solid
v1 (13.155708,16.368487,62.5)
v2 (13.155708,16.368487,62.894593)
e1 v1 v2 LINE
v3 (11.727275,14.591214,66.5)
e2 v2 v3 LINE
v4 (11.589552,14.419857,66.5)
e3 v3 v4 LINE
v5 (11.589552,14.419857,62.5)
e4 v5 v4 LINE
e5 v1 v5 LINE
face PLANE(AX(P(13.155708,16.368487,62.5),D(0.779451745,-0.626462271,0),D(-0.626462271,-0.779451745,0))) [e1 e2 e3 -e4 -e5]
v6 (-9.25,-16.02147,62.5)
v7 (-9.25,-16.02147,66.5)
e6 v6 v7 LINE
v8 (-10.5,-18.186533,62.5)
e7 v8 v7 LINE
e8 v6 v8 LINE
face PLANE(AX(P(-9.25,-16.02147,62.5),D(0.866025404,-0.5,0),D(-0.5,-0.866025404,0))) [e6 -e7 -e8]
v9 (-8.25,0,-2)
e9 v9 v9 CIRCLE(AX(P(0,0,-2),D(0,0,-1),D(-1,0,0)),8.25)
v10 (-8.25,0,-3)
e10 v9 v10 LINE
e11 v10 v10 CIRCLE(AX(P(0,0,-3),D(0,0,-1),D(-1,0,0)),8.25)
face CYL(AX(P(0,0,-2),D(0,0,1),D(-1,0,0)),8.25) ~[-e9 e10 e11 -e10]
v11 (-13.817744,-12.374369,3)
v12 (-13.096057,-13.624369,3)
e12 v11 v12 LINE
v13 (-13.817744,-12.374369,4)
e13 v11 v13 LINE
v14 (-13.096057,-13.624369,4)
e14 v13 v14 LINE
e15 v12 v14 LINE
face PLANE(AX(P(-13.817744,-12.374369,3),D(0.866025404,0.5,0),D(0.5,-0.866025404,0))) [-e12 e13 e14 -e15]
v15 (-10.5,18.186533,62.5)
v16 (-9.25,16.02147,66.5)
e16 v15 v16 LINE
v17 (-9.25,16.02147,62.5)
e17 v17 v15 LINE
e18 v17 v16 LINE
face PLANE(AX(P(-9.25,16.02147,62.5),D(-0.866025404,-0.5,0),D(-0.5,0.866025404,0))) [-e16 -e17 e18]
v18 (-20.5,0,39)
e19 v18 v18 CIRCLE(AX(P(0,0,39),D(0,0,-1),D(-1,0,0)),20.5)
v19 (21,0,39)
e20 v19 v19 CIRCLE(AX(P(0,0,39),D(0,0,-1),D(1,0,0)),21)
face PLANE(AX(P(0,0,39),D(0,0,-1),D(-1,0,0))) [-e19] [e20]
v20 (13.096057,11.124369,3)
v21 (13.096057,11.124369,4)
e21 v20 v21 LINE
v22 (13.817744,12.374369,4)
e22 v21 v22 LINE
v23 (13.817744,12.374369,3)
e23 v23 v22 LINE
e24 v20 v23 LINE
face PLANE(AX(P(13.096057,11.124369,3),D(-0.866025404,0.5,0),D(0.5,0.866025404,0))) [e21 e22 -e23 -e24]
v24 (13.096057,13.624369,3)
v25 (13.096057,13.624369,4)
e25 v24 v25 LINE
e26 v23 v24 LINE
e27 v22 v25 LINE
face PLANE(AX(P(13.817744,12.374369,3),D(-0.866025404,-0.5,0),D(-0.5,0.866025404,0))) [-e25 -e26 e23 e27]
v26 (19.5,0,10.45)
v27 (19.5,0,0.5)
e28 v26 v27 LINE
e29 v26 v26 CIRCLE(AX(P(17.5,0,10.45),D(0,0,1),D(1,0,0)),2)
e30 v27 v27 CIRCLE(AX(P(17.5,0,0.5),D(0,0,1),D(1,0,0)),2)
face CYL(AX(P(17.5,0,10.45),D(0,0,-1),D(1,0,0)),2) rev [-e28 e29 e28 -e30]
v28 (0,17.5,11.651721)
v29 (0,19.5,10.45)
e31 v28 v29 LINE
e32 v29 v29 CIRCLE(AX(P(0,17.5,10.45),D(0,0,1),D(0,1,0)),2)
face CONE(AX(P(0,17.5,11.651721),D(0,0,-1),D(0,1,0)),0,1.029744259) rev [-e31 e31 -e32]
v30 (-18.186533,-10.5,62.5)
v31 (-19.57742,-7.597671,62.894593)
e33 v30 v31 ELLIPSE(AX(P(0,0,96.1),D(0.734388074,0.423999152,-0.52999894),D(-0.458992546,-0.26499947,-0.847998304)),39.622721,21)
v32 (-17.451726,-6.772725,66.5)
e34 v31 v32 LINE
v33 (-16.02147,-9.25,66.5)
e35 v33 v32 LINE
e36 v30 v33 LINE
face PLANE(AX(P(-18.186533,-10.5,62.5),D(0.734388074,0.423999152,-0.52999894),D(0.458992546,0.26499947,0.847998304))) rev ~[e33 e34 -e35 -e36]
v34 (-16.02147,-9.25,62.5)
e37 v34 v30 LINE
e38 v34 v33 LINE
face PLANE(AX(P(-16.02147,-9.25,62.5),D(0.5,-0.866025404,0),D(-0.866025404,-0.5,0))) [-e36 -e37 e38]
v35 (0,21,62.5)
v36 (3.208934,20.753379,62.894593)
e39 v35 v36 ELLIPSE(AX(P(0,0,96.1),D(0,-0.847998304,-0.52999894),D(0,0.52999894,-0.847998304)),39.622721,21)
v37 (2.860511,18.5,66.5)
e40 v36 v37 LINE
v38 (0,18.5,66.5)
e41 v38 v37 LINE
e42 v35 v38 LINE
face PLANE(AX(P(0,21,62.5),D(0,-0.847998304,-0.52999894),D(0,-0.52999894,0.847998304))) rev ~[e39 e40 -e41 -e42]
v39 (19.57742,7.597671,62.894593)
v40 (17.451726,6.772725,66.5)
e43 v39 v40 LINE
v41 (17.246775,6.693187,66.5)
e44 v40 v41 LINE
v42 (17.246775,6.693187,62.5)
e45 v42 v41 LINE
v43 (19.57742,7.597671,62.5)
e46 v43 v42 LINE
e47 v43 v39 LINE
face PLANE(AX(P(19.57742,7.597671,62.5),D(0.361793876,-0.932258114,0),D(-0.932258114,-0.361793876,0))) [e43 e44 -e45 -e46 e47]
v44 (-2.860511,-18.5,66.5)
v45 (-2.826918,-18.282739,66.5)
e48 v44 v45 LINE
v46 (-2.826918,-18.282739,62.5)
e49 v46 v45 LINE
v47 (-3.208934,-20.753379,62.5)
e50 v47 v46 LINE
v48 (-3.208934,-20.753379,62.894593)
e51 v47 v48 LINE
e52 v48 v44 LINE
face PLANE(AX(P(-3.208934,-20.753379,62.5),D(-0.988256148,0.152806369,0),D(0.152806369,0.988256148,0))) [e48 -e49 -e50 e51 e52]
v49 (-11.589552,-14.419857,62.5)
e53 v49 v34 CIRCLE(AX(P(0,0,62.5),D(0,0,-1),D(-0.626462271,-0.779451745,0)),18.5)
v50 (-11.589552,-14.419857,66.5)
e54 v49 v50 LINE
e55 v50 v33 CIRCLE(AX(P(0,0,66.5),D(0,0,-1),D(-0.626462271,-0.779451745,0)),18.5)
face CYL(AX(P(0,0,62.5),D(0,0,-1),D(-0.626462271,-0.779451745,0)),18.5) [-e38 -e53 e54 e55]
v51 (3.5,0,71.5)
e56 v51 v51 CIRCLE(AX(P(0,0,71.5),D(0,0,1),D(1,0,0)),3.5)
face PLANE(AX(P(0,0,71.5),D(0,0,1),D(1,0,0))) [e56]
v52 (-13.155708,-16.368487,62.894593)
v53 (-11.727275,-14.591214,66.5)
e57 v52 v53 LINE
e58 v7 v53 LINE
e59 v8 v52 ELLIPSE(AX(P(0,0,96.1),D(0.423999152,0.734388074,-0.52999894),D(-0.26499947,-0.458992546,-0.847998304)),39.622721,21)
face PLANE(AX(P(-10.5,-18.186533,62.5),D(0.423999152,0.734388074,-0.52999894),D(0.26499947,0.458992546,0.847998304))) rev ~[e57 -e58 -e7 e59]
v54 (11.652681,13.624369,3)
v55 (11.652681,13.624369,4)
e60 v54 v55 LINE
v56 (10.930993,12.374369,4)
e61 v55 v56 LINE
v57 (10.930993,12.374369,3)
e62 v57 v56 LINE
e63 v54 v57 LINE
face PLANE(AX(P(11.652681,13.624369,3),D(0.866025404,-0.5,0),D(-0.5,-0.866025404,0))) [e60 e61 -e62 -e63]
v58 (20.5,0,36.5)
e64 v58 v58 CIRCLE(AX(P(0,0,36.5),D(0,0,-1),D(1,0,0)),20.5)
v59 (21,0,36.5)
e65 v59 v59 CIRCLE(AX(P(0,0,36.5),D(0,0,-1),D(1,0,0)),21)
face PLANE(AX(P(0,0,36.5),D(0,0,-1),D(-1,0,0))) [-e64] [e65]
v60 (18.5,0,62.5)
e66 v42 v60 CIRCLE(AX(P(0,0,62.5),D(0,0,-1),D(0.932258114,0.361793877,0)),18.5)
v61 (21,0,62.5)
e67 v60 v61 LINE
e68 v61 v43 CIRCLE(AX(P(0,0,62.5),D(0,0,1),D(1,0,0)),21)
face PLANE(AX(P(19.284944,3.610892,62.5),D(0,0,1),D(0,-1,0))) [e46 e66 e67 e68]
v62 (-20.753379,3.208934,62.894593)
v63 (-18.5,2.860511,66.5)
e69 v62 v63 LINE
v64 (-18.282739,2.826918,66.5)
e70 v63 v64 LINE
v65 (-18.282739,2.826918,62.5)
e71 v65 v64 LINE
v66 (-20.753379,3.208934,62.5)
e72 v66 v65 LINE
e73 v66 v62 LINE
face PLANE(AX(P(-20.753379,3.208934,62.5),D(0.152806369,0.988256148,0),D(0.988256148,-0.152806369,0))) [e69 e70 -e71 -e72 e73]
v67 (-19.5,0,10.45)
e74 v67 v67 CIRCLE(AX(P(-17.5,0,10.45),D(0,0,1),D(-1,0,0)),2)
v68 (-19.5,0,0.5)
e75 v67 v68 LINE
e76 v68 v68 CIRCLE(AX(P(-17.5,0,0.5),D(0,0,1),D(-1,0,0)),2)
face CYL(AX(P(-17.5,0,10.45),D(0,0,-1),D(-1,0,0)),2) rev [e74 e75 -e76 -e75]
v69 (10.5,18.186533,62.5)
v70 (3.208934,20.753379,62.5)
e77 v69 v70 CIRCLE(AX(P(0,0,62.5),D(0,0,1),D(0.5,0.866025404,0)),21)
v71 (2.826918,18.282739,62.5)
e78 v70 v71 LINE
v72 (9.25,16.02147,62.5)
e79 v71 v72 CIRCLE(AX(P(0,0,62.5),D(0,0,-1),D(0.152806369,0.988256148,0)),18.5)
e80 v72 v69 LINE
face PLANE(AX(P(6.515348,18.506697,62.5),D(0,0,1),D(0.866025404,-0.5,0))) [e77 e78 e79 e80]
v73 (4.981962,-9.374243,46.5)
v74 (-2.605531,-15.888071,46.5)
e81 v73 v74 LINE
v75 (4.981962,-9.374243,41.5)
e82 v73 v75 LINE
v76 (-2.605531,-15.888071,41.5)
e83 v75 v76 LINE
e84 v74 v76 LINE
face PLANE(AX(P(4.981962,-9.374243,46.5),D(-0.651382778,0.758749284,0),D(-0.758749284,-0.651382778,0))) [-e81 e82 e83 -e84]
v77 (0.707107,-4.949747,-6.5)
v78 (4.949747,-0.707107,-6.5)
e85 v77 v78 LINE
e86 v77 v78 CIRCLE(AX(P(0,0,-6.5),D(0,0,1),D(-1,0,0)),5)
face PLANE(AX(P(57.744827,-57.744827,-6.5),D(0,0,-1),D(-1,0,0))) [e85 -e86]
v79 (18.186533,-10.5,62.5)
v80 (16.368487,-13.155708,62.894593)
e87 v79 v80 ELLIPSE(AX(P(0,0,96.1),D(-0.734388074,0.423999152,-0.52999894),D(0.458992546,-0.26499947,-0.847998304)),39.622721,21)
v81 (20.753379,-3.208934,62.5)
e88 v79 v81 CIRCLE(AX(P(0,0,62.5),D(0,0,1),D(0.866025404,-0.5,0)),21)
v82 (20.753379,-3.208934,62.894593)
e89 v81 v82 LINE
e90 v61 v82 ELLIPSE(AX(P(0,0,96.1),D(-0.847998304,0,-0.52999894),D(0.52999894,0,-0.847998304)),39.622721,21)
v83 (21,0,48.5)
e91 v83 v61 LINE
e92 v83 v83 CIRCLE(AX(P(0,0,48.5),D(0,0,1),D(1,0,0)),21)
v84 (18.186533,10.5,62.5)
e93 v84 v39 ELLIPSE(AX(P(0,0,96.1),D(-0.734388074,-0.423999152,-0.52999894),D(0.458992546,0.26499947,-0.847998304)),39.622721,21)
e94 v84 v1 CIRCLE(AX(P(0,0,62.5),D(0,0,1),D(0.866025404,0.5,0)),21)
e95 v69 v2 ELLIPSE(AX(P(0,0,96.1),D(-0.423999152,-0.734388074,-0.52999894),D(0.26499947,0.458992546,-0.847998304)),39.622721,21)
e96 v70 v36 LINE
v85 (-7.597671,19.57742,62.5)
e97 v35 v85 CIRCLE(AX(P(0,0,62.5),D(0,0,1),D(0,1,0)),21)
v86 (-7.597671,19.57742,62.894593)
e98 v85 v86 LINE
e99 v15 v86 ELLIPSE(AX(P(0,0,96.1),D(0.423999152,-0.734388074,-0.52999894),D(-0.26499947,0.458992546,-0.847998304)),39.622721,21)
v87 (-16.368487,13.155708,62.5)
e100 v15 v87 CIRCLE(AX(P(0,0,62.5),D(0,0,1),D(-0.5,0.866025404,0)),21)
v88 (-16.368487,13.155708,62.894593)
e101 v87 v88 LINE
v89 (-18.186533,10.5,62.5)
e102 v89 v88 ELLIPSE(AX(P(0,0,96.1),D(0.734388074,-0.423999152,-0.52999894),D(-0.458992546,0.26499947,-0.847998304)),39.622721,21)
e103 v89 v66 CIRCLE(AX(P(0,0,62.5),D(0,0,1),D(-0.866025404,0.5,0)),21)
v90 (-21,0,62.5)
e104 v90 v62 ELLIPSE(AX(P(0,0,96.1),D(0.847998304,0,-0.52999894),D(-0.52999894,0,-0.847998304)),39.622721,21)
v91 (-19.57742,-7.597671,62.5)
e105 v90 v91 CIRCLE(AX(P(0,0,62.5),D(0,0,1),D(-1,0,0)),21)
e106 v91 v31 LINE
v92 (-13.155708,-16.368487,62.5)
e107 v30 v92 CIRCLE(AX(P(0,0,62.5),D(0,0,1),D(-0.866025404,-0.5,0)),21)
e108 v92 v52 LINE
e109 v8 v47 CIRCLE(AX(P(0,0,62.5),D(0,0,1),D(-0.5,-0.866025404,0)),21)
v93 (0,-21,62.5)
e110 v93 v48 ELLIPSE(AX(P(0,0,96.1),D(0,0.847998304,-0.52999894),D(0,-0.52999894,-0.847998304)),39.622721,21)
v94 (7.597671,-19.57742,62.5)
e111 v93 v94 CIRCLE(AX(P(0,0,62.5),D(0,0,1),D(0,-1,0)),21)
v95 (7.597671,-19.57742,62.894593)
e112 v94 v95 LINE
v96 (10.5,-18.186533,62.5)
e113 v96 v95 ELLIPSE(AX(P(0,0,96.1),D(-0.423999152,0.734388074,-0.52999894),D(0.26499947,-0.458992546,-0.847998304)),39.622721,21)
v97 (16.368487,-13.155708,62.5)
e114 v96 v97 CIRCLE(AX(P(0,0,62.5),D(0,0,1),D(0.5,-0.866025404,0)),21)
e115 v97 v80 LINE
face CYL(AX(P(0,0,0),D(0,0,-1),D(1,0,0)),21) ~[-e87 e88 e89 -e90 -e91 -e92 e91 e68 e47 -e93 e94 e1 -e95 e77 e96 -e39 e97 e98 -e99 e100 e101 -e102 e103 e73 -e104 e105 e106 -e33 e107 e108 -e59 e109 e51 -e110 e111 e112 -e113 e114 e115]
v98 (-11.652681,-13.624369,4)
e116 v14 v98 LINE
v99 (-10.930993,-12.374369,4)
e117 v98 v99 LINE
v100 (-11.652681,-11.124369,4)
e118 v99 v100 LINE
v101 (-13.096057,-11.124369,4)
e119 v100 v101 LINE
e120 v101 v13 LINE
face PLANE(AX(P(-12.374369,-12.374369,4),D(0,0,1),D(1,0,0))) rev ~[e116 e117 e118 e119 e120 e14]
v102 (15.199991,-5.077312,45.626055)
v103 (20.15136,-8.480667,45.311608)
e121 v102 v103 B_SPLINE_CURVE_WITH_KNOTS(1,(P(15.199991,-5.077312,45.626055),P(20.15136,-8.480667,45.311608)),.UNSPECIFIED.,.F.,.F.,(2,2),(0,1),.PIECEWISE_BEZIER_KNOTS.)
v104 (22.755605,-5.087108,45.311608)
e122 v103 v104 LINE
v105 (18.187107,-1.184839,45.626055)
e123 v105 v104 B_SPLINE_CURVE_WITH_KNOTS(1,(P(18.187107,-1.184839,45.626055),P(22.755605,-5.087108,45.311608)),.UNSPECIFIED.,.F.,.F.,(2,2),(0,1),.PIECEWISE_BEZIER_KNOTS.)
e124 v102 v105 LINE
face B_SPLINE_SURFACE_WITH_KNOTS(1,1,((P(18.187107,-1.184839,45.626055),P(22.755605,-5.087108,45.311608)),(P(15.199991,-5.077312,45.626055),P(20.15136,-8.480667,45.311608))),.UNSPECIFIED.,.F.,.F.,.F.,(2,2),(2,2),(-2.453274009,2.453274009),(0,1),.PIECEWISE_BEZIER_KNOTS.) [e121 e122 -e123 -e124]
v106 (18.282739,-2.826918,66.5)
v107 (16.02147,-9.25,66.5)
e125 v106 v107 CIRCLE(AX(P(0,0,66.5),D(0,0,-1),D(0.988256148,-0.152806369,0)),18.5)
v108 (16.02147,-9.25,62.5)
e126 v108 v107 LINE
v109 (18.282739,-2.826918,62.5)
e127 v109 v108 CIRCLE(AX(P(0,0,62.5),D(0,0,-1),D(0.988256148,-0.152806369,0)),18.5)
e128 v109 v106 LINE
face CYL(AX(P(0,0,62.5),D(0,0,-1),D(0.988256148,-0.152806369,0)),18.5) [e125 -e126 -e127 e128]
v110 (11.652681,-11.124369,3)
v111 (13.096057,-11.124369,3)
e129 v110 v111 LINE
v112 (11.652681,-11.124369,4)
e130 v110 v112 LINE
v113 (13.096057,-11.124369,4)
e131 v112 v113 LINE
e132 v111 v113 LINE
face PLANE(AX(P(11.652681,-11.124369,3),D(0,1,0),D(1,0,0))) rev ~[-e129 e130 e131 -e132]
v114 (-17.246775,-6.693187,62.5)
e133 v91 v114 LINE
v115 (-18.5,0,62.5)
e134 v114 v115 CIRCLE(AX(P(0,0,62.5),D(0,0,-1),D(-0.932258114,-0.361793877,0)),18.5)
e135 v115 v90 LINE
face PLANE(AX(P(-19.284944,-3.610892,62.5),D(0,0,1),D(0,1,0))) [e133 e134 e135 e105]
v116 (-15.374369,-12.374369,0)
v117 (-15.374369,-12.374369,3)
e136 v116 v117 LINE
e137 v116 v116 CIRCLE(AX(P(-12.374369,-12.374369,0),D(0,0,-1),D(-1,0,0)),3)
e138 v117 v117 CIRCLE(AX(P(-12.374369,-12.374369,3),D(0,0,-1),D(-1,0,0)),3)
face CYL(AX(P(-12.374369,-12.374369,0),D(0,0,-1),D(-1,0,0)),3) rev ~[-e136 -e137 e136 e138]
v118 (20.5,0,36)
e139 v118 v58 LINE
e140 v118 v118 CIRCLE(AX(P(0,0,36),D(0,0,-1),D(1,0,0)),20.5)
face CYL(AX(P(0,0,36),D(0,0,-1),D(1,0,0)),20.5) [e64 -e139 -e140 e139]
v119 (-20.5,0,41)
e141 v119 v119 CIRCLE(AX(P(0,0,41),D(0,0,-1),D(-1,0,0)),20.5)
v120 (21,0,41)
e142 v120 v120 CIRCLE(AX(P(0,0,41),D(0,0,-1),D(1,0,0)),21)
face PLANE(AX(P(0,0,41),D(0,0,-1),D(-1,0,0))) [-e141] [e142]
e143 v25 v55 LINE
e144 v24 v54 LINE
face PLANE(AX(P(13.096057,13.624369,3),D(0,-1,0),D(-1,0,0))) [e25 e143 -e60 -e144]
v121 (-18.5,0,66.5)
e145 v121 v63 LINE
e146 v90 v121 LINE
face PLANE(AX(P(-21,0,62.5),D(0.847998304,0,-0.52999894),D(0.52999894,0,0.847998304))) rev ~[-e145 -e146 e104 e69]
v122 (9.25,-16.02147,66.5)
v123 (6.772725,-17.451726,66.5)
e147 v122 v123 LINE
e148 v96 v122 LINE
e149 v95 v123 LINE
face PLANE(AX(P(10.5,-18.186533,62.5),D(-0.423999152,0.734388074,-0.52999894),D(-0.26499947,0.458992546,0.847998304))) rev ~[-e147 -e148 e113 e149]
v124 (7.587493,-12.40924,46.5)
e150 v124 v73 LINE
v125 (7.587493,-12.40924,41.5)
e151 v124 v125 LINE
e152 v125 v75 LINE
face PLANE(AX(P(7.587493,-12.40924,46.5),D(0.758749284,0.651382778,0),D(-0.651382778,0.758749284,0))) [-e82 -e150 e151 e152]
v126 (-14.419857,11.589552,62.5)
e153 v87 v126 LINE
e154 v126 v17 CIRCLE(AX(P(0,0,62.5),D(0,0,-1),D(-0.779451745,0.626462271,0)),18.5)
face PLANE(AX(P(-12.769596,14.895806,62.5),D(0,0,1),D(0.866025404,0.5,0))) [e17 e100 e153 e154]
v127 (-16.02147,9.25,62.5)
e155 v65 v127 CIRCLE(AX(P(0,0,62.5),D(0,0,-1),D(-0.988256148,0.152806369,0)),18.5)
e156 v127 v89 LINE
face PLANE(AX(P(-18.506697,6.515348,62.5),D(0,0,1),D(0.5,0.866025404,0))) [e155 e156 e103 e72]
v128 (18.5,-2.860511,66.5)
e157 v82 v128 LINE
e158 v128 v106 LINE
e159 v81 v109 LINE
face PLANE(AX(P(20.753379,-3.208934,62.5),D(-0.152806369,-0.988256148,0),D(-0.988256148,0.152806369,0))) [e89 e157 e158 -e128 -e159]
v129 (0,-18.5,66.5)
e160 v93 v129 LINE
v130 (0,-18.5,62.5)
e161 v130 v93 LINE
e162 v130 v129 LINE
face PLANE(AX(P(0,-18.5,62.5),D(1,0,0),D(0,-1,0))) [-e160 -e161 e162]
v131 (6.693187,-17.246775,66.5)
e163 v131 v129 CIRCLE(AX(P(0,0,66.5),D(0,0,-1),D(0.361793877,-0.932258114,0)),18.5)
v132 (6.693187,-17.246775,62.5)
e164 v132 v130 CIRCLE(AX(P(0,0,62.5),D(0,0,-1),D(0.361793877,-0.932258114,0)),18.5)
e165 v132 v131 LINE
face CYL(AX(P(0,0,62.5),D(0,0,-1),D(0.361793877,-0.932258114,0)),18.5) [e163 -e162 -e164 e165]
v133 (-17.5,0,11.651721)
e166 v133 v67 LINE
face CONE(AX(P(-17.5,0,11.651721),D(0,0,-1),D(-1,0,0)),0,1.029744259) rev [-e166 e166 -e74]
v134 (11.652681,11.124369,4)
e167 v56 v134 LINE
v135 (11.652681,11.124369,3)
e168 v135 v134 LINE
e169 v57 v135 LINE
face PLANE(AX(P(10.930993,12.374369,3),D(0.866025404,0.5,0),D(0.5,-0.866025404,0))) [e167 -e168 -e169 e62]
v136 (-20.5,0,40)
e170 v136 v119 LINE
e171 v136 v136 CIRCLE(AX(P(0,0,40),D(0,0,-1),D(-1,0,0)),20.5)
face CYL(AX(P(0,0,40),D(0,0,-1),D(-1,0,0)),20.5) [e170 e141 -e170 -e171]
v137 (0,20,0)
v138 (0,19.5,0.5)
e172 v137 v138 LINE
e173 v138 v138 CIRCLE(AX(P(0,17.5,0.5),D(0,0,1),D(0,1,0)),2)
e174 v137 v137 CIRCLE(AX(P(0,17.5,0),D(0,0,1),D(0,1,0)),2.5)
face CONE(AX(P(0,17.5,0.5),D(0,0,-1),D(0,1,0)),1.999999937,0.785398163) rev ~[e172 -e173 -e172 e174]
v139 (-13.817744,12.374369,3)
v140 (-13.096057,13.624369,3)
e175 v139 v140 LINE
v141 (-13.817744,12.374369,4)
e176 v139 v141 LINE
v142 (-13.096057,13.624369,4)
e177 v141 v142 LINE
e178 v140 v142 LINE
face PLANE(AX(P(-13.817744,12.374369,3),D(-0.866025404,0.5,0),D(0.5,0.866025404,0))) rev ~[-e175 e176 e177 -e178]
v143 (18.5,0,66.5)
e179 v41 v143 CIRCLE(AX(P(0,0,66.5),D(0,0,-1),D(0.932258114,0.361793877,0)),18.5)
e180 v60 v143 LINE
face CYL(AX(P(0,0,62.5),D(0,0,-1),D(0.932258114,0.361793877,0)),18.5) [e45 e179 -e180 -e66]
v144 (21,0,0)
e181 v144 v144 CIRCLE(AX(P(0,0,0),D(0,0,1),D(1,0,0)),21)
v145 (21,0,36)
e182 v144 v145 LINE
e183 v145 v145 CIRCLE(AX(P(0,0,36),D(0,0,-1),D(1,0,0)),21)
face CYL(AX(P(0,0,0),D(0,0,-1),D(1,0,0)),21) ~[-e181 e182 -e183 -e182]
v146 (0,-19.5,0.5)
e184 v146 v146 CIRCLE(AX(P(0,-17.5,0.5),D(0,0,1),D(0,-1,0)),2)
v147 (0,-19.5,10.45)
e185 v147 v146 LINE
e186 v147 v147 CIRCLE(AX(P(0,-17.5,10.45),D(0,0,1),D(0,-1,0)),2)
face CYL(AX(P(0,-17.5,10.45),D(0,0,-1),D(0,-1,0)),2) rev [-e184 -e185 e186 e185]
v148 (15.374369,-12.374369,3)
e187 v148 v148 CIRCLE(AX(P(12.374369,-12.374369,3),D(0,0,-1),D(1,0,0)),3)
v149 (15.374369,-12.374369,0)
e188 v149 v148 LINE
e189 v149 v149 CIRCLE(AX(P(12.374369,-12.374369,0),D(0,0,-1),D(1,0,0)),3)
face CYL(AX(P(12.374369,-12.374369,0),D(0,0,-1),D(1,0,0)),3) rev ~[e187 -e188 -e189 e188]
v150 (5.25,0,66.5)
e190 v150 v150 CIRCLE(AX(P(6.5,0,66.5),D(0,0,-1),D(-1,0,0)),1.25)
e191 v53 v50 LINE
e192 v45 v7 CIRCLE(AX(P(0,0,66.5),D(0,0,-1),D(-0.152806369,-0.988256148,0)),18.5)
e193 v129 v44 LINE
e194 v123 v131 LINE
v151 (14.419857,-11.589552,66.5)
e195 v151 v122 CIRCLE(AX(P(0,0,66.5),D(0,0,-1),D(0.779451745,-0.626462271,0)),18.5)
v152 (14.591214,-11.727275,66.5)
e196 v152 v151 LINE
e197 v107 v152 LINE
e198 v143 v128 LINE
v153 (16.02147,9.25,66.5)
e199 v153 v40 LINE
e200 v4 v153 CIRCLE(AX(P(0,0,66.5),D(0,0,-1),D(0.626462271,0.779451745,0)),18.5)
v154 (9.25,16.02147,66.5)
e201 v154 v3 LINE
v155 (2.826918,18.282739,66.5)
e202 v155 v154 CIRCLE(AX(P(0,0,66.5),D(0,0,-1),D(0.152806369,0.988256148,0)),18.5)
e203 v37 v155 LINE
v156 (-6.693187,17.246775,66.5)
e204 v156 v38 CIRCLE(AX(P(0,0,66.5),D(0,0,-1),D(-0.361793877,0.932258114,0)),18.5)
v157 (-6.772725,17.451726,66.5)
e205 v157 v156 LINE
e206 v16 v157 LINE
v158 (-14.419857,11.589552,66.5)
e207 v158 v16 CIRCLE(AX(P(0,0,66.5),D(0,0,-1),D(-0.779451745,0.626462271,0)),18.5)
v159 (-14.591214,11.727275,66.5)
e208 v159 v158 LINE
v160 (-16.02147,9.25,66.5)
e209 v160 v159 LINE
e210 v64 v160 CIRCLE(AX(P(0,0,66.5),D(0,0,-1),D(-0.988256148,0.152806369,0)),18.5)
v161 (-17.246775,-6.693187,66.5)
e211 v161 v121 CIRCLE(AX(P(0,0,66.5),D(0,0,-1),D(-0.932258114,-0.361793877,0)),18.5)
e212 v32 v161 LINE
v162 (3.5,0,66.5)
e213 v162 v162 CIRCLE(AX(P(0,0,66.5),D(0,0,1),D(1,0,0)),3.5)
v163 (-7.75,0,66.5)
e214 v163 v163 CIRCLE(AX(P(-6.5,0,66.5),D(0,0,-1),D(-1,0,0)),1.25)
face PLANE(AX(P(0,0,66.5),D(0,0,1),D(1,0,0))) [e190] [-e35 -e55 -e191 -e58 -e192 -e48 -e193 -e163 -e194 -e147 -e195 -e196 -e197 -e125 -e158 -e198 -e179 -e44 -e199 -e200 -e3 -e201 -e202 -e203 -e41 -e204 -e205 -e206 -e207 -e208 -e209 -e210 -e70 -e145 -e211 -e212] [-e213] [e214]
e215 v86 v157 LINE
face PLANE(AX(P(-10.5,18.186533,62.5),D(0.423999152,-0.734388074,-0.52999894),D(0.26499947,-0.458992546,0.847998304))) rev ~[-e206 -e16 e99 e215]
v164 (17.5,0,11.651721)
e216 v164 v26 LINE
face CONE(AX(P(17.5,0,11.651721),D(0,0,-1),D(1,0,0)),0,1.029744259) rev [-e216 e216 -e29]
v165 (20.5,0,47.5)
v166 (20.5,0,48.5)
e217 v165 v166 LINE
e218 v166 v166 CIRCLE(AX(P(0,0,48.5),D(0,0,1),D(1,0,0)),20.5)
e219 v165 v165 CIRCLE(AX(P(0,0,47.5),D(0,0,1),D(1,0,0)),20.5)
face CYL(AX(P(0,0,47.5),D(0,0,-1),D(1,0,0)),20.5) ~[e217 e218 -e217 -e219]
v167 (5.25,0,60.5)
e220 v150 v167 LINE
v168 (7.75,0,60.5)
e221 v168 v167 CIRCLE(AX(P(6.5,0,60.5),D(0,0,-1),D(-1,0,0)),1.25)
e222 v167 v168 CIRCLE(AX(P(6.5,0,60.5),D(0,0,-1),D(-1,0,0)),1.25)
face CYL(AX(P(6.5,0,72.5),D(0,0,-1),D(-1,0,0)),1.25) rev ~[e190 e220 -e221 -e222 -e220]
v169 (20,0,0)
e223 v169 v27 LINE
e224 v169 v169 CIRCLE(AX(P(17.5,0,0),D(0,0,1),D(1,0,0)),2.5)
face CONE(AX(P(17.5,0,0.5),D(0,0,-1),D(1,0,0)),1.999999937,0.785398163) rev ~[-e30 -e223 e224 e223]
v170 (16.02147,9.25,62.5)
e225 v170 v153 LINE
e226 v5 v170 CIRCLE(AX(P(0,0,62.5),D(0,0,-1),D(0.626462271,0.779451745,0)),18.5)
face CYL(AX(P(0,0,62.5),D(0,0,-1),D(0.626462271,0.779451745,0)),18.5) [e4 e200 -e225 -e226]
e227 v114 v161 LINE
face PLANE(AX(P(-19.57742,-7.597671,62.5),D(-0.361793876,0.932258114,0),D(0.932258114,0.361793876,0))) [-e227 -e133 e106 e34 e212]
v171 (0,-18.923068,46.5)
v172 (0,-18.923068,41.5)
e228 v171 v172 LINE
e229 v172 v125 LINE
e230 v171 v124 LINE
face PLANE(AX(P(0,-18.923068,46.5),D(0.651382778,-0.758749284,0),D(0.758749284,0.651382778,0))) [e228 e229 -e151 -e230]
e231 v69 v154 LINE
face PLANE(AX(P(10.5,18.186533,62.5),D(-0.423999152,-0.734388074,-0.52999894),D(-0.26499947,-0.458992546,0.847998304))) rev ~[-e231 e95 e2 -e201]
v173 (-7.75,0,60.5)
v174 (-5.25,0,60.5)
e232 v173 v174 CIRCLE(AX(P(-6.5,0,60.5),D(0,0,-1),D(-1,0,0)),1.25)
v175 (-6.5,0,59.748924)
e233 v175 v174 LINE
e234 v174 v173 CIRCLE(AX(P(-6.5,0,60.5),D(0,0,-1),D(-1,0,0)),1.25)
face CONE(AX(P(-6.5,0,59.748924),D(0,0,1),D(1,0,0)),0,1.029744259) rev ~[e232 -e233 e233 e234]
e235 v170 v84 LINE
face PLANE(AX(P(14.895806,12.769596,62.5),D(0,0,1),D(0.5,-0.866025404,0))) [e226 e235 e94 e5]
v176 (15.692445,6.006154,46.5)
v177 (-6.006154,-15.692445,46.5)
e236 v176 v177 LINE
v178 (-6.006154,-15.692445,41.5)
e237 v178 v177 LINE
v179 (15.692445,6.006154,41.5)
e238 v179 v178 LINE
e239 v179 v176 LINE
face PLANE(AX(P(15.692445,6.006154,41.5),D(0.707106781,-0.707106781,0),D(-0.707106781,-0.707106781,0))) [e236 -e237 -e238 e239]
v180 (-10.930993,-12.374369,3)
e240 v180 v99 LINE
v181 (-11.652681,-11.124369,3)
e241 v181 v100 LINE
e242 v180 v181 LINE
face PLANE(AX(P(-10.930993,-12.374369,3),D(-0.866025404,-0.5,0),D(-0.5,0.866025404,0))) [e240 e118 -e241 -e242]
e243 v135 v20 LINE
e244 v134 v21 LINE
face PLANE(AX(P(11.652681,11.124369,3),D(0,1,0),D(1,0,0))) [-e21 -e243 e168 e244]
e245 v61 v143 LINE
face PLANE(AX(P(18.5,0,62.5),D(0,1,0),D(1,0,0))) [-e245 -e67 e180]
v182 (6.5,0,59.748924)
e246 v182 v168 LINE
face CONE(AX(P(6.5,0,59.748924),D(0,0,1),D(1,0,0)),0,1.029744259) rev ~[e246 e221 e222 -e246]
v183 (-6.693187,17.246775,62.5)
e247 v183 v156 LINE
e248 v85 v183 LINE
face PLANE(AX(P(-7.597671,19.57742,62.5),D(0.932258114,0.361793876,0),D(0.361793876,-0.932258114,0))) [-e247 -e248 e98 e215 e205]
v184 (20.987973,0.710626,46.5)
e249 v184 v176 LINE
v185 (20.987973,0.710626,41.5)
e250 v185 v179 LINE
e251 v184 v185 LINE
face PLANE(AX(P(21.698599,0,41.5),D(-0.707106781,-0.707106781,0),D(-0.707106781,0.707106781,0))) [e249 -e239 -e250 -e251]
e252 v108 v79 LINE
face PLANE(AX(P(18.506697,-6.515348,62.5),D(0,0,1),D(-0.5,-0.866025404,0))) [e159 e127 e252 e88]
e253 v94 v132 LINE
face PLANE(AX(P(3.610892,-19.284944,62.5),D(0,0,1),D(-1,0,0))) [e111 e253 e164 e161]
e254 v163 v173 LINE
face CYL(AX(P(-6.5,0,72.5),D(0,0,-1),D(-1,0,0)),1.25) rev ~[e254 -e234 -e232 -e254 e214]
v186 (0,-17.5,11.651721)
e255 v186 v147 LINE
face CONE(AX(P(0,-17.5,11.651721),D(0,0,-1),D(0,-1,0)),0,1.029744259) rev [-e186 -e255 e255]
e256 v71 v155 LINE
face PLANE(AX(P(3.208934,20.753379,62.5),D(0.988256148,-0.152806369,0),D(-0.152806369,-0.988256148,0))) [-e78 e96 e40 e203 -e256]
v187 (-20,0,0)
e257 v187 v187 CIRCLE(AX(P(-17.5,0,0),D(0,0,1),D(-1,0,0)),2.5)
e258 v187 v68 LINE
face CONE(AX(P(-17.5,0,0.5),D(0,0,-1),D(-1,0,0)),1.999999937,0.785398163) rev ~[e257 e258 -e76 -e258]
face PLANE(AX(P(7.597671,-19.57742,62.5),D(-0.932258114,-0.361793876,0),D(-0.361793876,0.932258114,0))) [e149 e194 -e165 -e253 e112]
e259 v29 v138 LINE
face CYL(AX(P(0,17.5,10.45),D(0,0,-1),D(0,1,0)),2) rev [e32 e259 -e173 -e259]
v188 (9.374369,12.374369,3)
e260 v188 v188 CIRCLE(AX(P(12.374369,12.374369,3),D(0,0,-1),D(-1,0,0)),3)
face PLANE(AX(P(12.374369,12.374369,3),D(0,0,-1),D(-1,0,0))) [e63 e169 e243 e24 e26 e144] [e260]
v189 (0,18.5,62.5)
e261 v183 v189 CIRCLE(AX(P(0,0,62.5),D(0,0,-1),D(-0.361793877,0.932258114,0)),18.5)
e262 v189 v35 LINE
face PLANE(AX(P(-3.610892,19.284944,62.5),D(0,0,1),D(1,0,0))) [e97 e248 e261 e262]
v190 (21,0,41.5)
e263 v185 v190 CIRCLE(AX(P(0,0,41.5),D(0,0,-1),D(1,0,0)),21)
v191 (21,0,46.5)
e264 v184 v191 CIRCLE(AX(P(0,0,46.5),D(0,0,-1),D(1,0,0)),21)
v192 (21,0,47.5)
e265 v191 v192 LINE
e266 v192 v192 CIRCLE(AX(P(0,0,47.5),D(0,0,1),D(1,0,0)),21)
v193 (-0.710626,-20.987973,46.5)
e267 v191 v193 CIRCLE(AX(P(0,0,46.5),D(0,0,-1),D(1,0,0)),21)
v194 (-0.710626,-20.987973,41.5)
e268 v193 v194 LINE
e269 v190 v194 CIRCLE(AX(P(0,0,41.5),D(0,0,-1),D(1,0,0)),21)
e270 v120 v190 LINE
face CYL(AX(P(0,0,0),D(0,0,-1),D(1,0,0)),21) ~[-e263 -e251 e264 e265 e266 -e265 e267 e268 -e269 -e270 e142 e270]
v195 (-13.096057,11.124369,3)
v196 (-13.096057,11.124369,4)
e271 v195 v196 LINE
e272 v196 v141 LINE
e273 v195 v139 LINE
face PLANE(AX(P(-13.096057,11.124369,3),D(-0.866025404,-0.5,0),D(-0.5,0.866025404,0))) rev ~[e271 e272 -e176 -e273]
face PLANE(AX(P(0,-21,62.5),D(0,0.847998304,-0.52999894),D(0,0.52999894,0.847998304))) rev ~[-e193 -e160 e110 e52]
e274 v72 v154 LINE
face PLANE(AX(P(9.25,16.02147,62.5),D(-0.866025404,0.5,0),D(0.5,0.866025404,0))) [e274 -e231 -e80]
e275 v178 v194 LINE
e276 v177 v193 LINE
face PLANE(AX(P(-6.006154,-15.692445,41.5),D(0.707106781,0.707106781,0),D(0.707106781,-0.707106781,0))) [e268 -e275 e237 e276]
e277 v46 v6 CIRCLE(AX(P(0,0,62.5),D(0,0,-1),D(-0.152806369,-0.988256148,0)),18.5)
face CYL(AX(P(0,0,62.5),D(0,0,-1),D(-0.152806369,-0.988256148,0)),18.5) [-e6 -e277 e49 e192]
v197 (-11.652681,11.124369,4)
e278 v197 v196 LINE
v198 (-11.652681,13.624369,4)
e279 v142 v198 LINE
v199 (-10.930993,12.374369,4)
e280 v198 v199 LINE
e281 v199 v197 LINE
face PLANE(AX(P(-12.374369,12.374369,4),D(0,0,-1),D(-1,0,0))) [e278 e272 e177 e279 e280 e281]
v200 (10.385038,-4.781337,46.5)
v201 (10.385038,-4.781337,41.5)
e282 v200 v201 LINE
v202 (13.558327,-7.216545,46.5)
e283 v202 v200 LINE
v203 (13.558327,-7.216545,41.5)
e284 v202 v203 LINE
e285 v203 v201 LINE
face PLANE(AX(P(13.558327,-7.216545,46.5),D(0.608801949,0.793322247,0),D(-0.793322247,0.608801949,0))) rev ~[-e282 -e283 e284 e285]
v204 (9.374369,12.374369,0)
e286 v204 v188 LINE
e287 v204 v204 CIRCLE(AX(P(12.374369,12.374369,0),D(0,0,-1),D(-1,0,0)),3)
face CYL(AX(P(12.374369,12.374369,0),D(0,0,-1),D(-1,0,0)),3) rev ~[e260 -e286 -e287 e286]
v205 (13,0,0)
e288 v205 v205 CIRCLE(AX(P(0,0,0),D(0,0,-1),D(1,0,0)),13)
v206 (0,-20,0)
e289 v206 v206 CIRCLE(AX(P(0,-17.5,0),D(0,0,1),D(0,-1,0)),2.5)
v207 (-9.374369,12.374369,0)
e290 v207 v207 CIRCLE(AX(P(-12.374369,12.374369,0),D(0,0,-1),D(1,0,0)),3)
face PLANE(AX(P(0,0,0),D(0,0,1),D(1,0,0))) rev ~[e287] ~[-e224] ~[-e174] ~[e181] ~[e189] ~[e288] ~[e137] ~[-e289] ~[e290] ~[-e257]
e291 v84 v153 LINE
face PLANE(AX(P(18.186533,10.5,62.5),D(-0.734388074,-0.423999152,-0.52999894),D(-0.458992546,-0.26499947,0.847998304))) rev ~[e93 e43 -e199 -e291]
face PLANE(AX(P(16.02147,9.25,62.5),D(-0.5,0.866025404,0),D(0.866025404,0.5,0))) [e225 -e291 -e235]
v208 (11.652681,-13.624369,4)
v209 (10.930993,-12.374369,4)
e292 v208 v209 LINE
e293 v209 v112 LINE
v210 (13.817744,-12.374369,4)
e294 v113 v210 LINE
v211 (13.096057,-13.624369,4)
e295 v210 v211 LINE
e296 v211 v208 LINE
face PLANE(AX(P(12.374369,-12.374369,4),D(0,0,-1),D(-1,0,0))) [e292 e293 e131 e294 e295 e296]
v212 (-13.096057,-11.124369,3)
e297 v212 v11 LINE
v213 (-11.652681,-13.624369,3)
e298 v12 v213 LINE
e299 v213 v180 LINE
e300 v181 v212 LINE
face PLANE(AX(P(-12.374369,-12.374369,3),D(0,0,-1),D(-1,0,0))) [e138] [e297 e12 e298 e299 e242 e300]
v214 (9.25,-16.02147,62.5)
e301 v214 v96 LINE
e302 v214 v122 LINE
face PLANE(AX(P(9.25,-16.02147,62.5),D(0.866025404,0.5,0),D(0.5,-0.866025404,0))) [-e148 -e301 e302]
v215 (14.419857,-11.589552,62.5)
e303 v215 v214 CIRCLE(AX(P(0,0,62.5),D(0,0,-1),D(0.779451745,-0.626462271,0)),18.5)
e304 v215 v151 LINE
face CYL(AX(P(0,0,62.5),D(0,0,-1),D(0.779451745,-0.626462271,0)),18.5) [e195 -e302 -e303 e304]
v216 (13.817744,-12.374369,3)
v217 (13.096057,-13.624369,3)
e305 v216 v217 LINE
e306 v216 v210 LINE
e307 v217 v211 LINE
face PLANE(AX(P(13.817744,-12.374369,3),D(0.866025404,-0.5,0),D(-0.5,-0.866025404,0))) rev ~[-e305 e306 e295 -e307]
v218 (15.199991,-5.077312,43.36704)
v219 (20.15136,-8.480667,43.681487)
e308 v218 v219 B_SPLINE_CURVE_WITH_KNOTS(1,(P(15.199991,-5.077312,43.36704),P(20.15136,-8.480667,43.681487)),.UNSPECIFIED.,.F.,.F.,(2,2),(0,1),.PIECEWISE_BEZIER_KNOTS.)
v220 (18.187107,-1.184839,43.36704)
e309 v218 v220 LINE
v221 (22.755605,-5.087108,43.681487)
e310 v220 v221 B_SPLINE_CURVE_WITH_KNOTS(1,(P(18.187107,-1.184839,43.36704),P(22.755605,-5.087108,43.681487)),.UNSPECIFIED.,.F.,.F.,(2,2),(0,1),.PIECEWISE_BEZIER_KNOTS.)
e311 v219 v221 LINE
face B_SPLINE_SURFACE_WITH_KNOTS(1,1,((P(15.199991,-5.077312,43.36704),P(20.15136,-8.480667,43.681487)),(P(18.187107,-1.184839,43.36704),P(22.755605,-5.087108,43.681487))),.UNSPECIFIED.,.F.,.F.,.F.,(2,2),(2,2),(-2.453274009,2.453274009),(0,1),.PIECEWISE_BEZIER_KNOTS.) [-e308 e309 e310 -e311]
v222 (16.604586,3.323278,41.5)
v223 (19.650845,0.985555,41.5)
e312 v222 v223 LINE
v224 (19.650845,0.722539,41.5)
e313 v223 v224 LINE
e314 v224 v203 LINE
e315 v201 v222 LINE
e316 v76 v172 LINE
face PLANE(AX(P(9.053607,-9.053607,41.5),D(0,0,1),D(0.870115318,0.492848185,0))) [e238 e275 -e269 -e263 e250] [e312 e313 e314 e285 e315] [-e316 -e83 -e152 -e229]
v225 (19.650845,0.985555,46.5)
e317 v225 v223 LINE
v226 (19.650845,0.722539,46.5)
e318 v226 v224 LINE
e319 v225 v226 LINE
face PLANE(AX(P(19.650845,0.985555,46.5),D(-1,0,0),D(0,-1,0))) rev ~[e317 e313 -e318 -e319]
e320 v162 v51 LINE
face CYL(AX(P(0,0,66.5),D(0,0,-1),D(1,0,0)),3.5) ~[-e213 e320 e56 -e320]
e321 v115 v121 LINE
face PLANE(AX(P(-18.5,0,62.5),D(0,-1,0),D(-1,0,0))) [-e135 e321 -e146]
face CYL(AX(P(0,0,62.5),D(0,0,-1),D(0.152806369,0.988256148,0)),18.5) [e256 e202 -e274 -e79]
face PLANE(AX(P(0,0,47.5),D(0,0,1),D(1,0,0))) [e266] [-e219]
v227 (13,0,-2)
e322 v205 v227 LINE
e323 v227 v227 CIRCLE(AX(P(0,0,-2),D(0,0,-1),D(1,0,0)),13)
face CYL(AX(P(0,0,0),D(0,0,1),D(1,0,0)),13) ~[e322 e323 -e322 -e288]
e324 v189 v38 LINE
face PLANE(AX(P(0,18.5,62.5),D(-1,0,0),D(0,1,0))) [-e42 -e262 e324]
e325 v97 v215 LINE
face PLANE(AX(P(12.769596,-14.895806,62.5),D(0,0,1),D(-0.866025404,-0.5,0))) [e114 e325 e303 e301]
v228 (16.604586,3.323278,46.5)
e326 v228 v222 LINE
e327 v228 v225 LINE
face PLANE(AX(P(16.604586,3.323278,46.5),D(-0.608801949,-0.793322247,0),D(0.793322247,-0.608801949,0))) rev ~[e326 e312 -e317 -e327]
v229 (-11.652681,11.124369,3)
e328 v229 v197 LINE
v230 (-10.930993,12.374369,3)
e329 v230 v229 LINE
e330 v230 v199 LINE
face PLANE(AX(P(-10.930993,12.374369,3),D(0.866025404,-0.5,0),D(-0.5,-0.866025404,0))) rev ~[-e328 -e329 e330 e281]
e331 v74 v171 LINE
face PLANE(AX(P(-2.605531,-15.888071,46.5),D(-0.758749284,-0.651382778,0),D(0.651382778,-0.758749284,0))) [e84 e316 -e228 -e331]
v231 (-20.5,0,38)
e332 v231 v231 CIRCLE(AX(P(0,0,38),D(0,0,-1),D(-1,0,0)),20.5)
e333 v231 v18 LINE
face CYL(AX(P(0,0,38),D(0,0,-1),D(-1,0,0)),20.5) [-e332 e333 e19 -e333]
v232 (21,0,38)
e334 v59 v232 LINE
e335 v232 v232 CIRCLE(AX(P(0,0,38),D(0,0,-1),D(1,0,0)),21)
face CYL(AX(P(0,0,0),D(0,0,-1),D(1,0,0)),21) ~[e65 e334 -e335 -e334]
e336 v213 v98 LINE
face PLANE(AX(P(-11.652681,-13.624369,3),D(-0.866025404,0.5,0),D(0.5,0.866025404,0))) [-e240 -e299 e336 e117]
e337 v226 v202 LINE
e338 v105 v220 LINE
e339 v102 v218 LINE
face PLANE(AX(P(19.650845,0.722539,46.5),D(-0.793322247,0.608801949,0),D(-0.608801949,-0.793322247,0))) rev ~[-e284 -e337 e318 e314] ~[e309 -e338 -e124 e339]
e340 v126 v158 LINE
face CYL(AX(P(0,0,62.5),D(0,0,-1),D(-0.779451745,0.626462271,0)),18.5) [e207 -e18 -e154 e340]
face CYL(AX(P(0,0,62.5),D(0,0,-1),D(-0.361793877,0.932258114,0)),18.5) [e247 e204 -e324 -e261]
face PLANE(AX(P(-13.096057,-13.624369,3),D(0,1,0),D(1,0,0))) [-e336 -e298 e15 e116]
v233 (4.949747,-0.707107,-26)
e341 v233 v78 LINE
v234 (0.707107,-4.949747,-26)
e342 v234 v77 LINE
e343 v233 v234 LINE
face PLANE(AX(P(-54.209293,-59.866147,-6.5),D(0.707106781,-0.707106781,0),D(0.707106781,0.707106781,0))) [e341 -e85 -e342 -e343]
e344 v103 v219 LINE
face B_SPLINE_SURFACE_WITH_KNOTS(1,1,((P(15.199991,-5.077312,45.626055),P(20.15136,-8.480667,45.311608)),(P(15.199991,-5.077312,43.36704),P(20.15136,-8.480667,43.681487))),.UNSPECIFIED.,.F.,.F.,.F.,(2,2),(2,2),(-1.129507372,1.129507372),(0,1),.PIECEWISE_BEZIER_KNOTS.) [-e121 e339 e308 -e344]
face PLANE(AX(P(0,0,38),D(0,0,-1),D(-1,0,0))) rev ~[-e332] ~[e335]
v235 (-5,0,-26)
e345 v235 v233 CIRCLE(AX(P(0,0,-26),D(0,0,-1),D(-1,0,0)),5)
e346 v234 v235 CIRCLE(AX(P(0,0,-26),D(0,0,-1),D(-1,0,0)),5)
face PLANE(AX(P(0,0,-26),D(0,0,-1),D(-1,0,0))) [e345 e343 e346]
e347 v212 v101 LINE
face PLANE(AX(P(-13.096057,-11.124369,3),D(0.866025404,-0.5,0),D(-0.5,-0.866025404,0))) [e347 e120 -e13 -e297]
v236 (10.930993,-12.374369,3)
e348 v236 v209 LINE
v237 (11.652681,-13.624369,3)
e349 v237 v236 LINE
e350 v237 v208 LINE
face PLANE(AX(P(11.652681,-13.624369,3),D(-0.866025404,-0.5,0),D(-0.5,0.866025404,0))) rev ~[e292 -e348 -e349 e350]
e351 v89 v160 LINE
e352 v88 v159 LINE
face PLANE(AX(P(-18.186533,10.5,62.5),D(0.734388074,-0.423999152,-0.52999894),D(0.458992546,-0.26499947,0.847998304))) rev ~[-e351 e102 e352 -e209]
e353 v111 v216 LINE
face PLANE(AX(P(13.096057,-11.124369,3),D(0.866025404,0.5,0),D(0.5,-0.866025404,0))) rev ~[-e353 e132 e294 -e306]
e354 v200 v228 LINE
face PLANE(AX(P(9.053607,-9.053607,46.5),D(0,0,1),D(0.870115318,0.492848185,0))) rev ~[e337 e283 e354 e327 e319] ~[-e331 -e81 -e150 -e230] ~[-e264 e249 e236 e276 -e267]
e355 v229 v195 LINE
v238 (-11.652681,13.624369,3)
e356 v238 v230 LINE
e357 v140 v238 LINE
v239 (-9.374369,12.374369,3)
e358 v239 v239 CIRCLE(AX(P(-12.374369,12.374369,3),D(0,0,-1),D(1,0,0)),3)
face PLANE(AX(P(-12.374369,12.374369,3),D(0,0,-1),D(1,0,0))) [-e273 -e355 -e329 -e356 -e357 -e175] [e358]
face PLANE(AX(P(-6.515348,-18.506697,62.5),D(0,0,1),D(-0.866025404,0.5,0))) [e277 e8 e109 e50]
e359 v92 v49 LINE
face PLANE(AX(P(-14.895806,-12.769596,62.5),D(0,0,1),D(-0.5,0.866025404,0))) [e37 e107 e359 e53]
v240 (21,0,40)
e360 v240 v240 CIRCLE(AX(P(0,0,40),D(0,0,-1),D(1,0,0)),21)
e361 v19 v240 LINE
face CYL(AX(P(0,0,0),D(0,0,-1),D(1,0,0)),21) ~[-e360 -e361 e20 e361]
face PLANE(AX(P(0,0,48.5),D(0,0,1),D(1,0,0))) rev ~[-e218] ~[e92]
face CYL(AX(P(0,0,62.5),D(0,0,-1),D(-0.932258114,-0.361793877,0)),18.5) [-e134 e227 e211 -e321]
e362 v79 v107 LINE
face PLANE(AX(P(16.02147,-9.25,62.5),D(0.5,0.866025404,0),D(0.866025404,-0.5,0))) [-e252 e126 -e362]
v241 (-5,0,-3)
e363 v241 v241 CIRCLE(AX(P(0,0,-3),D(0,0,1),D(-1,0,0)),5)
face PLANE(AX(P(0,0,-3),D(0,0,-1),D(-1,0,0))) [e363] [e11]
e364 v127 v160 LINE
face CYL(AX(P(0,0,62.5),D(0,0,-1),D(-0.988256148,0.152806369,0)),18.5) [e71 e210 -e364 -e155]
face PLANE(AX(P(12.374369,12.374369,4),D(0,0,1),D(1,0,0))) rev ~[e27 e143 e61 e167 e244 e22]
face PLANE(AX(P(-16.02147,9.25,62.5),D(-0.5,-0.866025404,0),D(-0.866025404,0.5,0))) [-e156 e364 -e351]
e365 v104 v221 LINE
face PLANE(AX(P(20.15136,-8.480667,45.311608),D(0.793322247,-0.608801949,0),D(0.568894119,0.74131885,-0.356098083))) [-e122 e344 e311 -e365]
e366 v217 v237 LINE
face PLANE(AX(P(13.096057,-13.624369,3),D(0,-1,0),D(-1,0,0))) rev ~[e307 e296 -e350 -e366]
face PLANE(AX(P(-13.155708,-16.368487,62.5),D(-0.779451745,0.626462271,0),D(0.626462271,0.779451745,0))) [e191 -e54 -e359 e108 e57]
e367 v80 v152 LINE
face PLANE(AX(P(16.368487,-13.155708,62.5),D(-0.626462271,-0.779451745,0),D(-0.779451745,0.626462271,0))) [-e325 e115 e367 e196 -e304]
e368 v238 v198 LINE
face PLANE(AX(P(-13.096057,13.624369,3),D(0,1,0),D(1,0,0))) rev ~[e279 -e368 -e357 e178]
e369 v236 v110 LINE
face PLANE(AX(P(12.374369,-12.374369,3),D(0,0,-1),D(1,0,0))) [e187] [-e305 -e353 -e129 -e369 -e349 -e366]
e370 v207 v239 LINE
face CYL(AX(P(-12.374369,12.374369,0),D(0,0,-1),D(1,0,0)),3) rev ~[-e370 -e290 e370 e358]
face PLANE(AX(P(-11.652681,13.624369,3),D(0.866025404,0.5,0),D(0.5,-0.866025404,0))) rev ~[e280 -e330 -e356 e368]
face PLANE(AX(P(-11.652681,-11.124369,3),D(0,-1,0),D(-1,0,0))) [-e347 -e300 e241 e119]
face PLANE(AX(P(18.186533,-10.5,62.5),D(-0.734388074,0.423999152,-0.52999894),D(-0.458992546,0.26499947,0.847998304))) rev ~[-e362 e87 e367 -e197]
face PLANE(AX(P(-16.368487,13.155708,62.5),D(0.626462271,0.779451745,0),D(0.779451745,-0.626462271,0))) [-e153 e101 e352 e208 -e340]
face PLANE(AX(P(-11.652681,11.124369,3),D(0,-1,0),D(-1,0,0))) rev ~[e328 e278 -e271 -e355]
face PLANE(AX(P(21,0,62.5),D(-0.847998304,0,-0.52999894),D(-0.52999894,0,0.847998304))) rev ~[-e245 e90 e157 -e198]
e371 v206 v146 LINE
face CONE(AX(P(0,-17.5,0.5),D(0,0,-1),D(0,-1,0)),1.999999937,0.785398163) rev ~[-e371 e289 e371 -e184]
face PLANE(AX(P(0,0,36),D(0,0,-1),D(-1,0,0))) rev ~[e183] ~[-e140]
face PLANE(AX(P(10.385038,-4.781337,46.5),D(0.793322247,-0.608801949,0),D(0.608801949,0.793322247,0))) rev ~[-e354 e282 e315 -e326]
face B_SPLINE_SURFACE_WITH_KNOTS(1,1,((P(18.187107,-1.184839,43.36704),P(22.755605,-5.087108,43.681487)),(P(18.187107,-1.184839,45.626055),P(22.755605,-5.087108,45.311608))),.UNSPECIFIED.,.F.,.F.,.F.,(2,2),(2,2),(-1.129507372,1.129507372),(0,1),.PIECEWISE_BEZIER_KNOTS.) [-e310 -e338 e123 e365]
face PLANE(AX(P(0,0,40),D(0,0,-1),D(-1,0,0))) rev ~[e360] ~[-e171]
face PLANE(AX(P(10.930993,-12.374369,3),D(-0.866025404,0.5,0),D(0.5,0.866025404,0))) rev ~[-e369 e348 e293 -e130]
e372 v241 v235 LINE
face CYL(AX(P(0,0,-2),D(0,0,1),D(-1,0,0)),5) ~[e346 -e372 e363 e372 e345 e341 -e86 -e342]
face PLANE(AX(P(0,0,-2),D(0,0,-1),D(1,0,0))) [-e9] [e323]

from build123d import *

# Parameters (mm, degrees)
SKETCH_1_R                           = 21
EXTRUDE_1_DEPTH                      = 66.5
SKETCH_2_R                           = 13
EXTRUDE_2_DEPTH                      = 2
SKETCH_3_R                           = 5
EXTRUDE_3_DEPTH                      = 24
CUT_EXTRUDE_1_DEPTH                  = 98.1506562
CUT_EXTRUDE_1_DEPTH_BACK             = 19.5
CHAMFER_1_SIZE                       = 0.5
PATTERN_CIRCULAR_1_COUNT             = 4
CHAMFER_1_OF_PATTERN_CIRCULAR_1_SIZE = 0.5
SKETCH_30_R                          = 3.5
EXTRUDE_4_DEPTH                      = 5
SKETCH_31_R                          = 8.25
EXTRUDE_5_DEPTH                      = 1
CUT_EXTRUDE_4_DEPTH                  = 5
CUT_EXTRUDE_START                    = -1
SKETCH_38_R                          = 21
SKETCH_38_R_2                        = 20.5
CUT_EXTRUDE_8_DEPTH                  = 1
EXTRUDE_8_DEPTH                      = 5
EXTRUDE_9_DEPTH                      = 5
SKETCH_37_W                          = 2.259014744
SKETCH_37_H                          = 4.906548019
EXTRUDE_10_DEPTH                     = 6
EXTRUDE_10_TAPER                     = 3
SKETCH_39_R                          = 21
SKETCH_39_R_2                        = 20.5
CUT_EXTRUDE_9_DEPTH                  = 0.5
SKETCH_41_R                          = 21
SKETCH_41_R_2                        = 20.5
CUT_EXTRUDE_10_DEPTH                 = 1
SKETCH_42_R                          = 21
SKETCH_42_R_2                        = 20.5
CUT_EXTRUDE_11_DEPTH                 = 1
CUT_EXTRUDE_12_REACH                 = 95.761
PATTERN_CIRCULAR_4_COUNT             = 12
CUT_EXTRUDE_13_REACH                 = 79.917
PATTERN_CIRCULAR_5_COUNT             = 12
HOLE_WIZARD_M3_1_D                   = 2.5
HOLE_WIZARD_M3_1_DEPTH               = 6
HOLE_WIZARD_M3_1_TIP                 = 0.751075774
SKETCH_13_R                          = 3
CUT_EXTRUDE_14_DEPTH                 = 3
CUT_EXTRUDE_15_DEPTH                 = 1


with BuildPart() as part:
    # 草图1 → 凸台-拉伸1 (new body)
    with BuildSketch(Plane.XY):
        Circle(SKETCH_1_R)
    extrude(amount=EXTRUDE_1_DEPTH)

    # 草图2 → 凸台-拉伸2 (add)
    with BuildSketch(Plane(origin=(0, 0, 0), x_dir=(-1, 0, 0), z_dir=(0, 0, -1))):
        with Locations(Location((0, 0, 0), (0, 0, 180))):
            Circle(SKETCH_2_R)
    extrude(amount=EXTRUDE_2_DEPTH)

    # 草图3 → 凸台-拉伸3 (add)
    with BuildSketch(Plane(origin=(0, 0, -2), x_dir=(-1, 0, 0), z_dir=(0, 0, -1))):
        Circle(SKETCH_3_R)
    extrude(amount=EXTRUDE_3_DEPTH)

    # 草图4 → 切除-拉伸1 (cut, two sides: drawn at the far end of the back side and taken through both)
    with BuildSketch(Plane(origin=(0, 0, -26), x_dir=(-1, 0, 0), z_dir=(0, 0, -1)).offset(-CUT_EXTRUDE_1_DEPTH_BACK)):
        Polygon((54.209292642, -59.866146891), (-0.707106781, -4.949747468), (-4.949747468, -0.707106781), (-59.866146891, 54.209292642), (-169.698945737, -55.623506204), (-55.623506204, -169.698945737), align=None)
    extrude(amount=CUT_EXTRUDE_1_DEPTH + CUT_EXTRUDE_1_DEPTH_BACK, mode=Mode.SUBTRACT)

    # 草图12 → #8-36 螺纹孔1 (revolve, cut)
    with BuildSketch(Plane(origin=(0, 17.5, 0), x_dir=(0, 1, 0), z_dir=(1, 0, 0))):
        Polygon((0, 0), (0, 11.6517212), (1.999999937, 10.45), (1.999999937, 0), align=None)
    hole_wizard_8_36_1 = revolve(axis=Axis((0, 17.5, -6.35), (0, 0, 1)), mode=Mode.SUBTRACT)

    # 倒角1
    chamfer_1_edges = [part.edges().sort_by_distance(p)[0] for p in [
        (0, 15.500000063, 0),
    ]]
    chamfer(chamfer_1_edges, length=CHAMFER_1_SIZE)

    # 阵列(圆周)1: #8-36 螺纹孔1 ×4 about axis
    pattern_circular_1_axis = Axis((0, 0, 0), (0, 0, 1))
    for i in range(1, PATTERN_CIRCULAR_1_COUNT):
        add(hole_wizard_8_36_1.rotate(pattern_circular_1_axis, i * 360 / PATTERN_CIRCULAR_1_COUNT), mode=Mode.SUBTRACT)

    # 倒角1 of 阵列(圆周)1
    chamfer_1_of_pattern_circular_1_edges = [part.edges().sort_by_distance(p)[0] for p in [
        (-15.500000063, 0, 0),
        (0, -15.500000063, 0),
        (15.500000063, 0, 0),
    ]]
    chamfer(chamfer_1_of_pattern_circular_1_edges, length=CHAMFER_1_OF_PATTERN_CIRCULAR_1_SIZE)

    # 草图30 → 凸台-拉伸4 (add)
    with BuildSketch(Plane.XY.offset(66.5)):
        Circle(SKETCH_30_R)
    extrude(amount=EXTRUDE_4_DEPTH)

    # 草图31 → 凸台-拉伸5 (add)
    with BuildSketch(Plane(origin=(0, 0, -2), x_dir=(-1, 0, 0), z_dir=(0, 0, -1))):
        Circle(SKETCH_31_R)
    extrude(amount=EXTRUDE_5_DEPTH)

    # Sketch 3D_5 → 切除-拉伸4 (cut)
    with BuildSketch(Plane(origin=(21.698598574, 0, 41.5), x_dir=(-0.8701153178040487, -0.49284818526881014, 0), z_dir=(0, 0, -1))):
        with BuildLine():
            Line((0, 0), (2.265924322, 8.186168064))
            Line((2.265924322, 8.186168064), (31.840322246, 0))
            Line((31.840322246, 0), (29.574397924, -8.186168064))
            ThreePointArc((29.574397924, -8.186168064), (13.091788044, -10.218142392), (0, 0))
        make_face()
    extrude(amount=-CUT_EXTRUDE_4_DEPTH, mode=Mode.SUBTRACT)

    # 草图38 → 切除-拉伸8 (cut)
    with BuildSketch(Plane.XY.offset(48.5).offset(CUT_EXTRUDE_START)):
        Circle(SKETCH_38_R)
        Circle(SKETCH_38_R_2, mode=Mode.SUBTRACT)
    extrude(amount=CUT_EXTRUDE_8_DEPTH, mode=Mode.SUBTRACT)

    # 草图35 → 凸台-拉伸8 (add)
    with BuildSketch(Plane(origin=(0, 0, 46.5), x_dir=(-1, 0, 0), z_dir=(0, 0, -1))):
        Polygon((-19.650844704, 0.722539425), (-13.558326759, -7.216544928), (-10.385037772, -4.781337133), (-16.604585732, 3.323278452), (-19.650844704, 0.985554524), align=None)
    extrude(amount=EXTRUDE_8_DEPTH)

    # 草图36 → 凸台-拉伸9 (add)
    with BuildSketch(Plane(origin=(0, 0, 46.5), x_dir=(-1, 0, 0), z_dir=(0, 0, -1))):
        Polygon((0, -18.923068099), (-7.58749284, -12.409240314), (-4.981961726, -9.374243178), (2.605531114, -15.888070963), align=None)
    extrude(amount=EXTRUDE_9_DEPTH)

    # 草图37 → 凸台-拉伸10 (add)
    with BuildSketch(Plane(origin=(12.018490008, -9.223087045, 0), x_dir=(0, 0, -1), z_dir=(0.793322246809358, -0.6088019486806462, 0))):
        with Locations((-44.496547362, 7.679113422)):
            Rectangle(SKETCH_37_W, SKETCH_37_H)
    extrude(amount=EXTRUDE_10_DEPTH, taper=EXTRUDE_10_TAPER)

    # 草图39 → 切除-拉伸9 (cut)
    with BuildSketch(Plane(origin=(0, 0, 36), x_dir=(-1, 0, 0), z_dir=(0, 0, -1))):
        Circle(SKETCH_39_R)
        with Locations(Location((0, 0, 0), (0, 0, 180))):
            Circle(SKETCH_39_R_2, mode=Mode.SUBTRACT)
    extrude(amount=-CUT_EXTRUDE_9_DEPTH, mode=Mode.SUBTRACT)

    # 草图41 → 切除-拉伸10 (cut)
    with BuildSketch(Plane(origin=(0, 0, 38), x_dir=(-1, 0, 0), z_dir=(0, 0, -1))):
        Circle(SKETCH_41_R)
        Circle(SKETCH_41_R_2, mode=Mode.SUBTRACT)
    extrude(amount=-CUT_EXTRUDE_10_DEPTH, mode=Mode.SUBTRACT)

    # 草图42 → 切除-拉伸11 (cut)
    with BuildSketch(Plane(origin=(0, 0, 40), x_dir=(-1, 0, 0), z_dir=(0, 0, -1))):
        Circle(SKETCH_42_R)
        Circle(SKETCH_42_R_2, mode=Mode.SUBTRACT)
    extrude(amount=-CUT_EXTRUDE_11_DEPTH, mode=Mode.SUBTRACT)

    # 草图43 → 切除-拉伸12 (cut, up to next)
    with BuildSketch(Plane.XY.offset(62.5), mode=Mode.PRIVATE) as cut_extrude_12_sk1:
        with BuildLine():
            Line((0, 18.5), (0, 21))
            ThreePointArc((0, 21), (-3.864852633, 20.641291484), (-7.597671404, 19.577420393))
            Line((-7.597671404, 19.577420393), (-6.693186713, 17.246775108))
            ThreePointArc((-6.693186713, 17.246775108), (-3.404751129, 18.183994879), (0, 18.5))
        make_face()
    cut_extrude_12_tool1 = extrude(cut_extrude_12_sk1.sketch, amount=CUT_EXTRUDE_12_REACH, mode=Mode.PRIVATE) & part.part
    cut_extrude_12 = cut_extrude_12_tool1.solids().sort_by_distance((-3.618908, 19.327758, 62.5))[0]
    add(cut_extrude_12, mode=Mode.SUBTRACT)

    # 阵列(圆周)4: 切除-拉伸12 ×12 about axis
    pattern_circular_4_axis = Axis((0, 0, 0), (0, 0, 1))
    for i in range(1, PATTERN_CIRCULAR_4_COUNT):
        add(cut_extrude_12.rotate(pattern_circular_4_axis, i * 360 / PATTERN_CIRCULAR_4_COUNT), mode=Mode.SUBTRACT)

    # 切除-拉伸13: up to this plane
    cut_extrude_13_end = Plane(origin=(-6.693186713, 17.246775108, 71.501), z_dir=(0.9322581139355903, 0.36179387640099137, 0))
    # 草图45 → 切除-拉伸13 (cut, up to the surface)
    with BuildSketch(Plane(origin=(0, 0, 0), x_dir=(0, 0, 1), z_dir=(-0.8660254037844382, -0.5000000000000011, 0)), mode=Mode.PRIVATE) as cut_extrude_13_sk1:
        Polygon((62.5, 21), (66.5, 18.5), (66.5, 21), align=None)
    cut_extrude_13_tool1 = split(extrude(cut_extrude_13_sk1.sketch, amount=-CUT_EXTRUDE_13_REACH, mode=Mode.PRIVATE), bisect_by=cut_extrude_13_end, keep=Keep.BOTH, mode=Mode.PRIVATE)
    cut_extrude_13 = cut_extrude_13_tool1.solids().sort_by_distance((-10.083333, 17.464846, 65.166667))[0]
    add(cut_extrude_13, mode=Mode.SUBTRACT)

    # 阵列(圆周)5: 切除-拉伸13 ×12 about axis
    pattern_circular_5_axis = Axis((0, 0, 0), (0, 0, 1))
    for i in range(1, PATTERN_CIRCULAR_5_COUNT):
        add(cut_extrude_13.rotate(pattern_circular_5_axis, i * 360 / PATTERN_CIRCULAR_5_COUNT), mode=Mode.SUBTRACT)

    # M3 螺纹孔1
    with Locations(Plane.XY.offset(66.5)):
        with Locations((-6.5, 0), (6.5, 0)):
            Hole(HOLE_WIZARD_M3_1_D / 2, depth=HOLE_WIZARD_M3_1_DEPTH)
            with Locations((0, 0, -(HOLE_WIZARD_M3_1_DEPTH + HOLE_WIZARD_M3_1_TIP / 2))):  # 118° drill point
                Cone(0, HOLE_WIZARD_M3_1_D / 2, HOLE_WIZARD_M3_1_TIP, mode=Mode.SUBTRACT)

    # 草图13 → 切除-拉伸14 (cut)
    with BuildSketch(Plane(origin=(0, 0, 0), x_dir=(-1, 0, 0), z_dir=(0, 0, -1))):
        with Locations((12.374368671, -12.374368671)):
            Circle(SKETCH_13_R)
        with Locations(Location((12.374368671, 12.374368671, 0), (0, 0, 180))):
            Circle(SKETCH_13_R)
        with Locations(Location((-12.374368671, -12.374368671, 0), (0, 0, 180))):
            Circle(SKETCH_13_R)
        with Locations((-12.374368671, 12.374368671)):
            Circle(SKETCH_13_R)
    extrude(amount=-CUT_EXTRUDE_14_DEPTH, mode=Mode.SUBTRACT)

    # 草图52 → 切除-拉伸15 (cut)
    with BuildSketch(Plane(origin=(0, 0, 3), x_dir=(-1, 0, 0), z_dir=(0, 0, -1))):
        Polygon((13.817744344, 12.374368671), (13.096056507, 13.624368671), (11.652680834, 13.624368671), (10.930992998, 12.374368671), (11.652680834, 11.124368671), (13.096056507, 11.124368671), align=None)
        Polygon((-13.096056507, 11.124368671), (-13.817744344, 12.374368671), (-13.096056507, 13.624368671), (-11.652680834, 13.624368671), (-10.930992998, 12.374368671), (-11.652680834, 11.124368671), align=None)
        Polygon((-13.817744344, -12.374368671), (-13.096056507, -13.624368671), (-11.652680834, -13.624368671), (-10.930992998, -12.374368671), (-11.652680834, -11.124368671), (-13.096056507, -11.124368671), align=None)
        Polygon((13.096056507, -11.124368671), (13.817744344, -12.374368671), (13.096056507, -13.624368671), (11.652680834, -13.624368671), (10.930992998, -12.374368671), (11.652680834, -11.124368671), align=None)
    extrude(amount=-CUT_EXTRUDE_15_DEPTH, mode=Mode.SUBTRACT)


solid = part.part
